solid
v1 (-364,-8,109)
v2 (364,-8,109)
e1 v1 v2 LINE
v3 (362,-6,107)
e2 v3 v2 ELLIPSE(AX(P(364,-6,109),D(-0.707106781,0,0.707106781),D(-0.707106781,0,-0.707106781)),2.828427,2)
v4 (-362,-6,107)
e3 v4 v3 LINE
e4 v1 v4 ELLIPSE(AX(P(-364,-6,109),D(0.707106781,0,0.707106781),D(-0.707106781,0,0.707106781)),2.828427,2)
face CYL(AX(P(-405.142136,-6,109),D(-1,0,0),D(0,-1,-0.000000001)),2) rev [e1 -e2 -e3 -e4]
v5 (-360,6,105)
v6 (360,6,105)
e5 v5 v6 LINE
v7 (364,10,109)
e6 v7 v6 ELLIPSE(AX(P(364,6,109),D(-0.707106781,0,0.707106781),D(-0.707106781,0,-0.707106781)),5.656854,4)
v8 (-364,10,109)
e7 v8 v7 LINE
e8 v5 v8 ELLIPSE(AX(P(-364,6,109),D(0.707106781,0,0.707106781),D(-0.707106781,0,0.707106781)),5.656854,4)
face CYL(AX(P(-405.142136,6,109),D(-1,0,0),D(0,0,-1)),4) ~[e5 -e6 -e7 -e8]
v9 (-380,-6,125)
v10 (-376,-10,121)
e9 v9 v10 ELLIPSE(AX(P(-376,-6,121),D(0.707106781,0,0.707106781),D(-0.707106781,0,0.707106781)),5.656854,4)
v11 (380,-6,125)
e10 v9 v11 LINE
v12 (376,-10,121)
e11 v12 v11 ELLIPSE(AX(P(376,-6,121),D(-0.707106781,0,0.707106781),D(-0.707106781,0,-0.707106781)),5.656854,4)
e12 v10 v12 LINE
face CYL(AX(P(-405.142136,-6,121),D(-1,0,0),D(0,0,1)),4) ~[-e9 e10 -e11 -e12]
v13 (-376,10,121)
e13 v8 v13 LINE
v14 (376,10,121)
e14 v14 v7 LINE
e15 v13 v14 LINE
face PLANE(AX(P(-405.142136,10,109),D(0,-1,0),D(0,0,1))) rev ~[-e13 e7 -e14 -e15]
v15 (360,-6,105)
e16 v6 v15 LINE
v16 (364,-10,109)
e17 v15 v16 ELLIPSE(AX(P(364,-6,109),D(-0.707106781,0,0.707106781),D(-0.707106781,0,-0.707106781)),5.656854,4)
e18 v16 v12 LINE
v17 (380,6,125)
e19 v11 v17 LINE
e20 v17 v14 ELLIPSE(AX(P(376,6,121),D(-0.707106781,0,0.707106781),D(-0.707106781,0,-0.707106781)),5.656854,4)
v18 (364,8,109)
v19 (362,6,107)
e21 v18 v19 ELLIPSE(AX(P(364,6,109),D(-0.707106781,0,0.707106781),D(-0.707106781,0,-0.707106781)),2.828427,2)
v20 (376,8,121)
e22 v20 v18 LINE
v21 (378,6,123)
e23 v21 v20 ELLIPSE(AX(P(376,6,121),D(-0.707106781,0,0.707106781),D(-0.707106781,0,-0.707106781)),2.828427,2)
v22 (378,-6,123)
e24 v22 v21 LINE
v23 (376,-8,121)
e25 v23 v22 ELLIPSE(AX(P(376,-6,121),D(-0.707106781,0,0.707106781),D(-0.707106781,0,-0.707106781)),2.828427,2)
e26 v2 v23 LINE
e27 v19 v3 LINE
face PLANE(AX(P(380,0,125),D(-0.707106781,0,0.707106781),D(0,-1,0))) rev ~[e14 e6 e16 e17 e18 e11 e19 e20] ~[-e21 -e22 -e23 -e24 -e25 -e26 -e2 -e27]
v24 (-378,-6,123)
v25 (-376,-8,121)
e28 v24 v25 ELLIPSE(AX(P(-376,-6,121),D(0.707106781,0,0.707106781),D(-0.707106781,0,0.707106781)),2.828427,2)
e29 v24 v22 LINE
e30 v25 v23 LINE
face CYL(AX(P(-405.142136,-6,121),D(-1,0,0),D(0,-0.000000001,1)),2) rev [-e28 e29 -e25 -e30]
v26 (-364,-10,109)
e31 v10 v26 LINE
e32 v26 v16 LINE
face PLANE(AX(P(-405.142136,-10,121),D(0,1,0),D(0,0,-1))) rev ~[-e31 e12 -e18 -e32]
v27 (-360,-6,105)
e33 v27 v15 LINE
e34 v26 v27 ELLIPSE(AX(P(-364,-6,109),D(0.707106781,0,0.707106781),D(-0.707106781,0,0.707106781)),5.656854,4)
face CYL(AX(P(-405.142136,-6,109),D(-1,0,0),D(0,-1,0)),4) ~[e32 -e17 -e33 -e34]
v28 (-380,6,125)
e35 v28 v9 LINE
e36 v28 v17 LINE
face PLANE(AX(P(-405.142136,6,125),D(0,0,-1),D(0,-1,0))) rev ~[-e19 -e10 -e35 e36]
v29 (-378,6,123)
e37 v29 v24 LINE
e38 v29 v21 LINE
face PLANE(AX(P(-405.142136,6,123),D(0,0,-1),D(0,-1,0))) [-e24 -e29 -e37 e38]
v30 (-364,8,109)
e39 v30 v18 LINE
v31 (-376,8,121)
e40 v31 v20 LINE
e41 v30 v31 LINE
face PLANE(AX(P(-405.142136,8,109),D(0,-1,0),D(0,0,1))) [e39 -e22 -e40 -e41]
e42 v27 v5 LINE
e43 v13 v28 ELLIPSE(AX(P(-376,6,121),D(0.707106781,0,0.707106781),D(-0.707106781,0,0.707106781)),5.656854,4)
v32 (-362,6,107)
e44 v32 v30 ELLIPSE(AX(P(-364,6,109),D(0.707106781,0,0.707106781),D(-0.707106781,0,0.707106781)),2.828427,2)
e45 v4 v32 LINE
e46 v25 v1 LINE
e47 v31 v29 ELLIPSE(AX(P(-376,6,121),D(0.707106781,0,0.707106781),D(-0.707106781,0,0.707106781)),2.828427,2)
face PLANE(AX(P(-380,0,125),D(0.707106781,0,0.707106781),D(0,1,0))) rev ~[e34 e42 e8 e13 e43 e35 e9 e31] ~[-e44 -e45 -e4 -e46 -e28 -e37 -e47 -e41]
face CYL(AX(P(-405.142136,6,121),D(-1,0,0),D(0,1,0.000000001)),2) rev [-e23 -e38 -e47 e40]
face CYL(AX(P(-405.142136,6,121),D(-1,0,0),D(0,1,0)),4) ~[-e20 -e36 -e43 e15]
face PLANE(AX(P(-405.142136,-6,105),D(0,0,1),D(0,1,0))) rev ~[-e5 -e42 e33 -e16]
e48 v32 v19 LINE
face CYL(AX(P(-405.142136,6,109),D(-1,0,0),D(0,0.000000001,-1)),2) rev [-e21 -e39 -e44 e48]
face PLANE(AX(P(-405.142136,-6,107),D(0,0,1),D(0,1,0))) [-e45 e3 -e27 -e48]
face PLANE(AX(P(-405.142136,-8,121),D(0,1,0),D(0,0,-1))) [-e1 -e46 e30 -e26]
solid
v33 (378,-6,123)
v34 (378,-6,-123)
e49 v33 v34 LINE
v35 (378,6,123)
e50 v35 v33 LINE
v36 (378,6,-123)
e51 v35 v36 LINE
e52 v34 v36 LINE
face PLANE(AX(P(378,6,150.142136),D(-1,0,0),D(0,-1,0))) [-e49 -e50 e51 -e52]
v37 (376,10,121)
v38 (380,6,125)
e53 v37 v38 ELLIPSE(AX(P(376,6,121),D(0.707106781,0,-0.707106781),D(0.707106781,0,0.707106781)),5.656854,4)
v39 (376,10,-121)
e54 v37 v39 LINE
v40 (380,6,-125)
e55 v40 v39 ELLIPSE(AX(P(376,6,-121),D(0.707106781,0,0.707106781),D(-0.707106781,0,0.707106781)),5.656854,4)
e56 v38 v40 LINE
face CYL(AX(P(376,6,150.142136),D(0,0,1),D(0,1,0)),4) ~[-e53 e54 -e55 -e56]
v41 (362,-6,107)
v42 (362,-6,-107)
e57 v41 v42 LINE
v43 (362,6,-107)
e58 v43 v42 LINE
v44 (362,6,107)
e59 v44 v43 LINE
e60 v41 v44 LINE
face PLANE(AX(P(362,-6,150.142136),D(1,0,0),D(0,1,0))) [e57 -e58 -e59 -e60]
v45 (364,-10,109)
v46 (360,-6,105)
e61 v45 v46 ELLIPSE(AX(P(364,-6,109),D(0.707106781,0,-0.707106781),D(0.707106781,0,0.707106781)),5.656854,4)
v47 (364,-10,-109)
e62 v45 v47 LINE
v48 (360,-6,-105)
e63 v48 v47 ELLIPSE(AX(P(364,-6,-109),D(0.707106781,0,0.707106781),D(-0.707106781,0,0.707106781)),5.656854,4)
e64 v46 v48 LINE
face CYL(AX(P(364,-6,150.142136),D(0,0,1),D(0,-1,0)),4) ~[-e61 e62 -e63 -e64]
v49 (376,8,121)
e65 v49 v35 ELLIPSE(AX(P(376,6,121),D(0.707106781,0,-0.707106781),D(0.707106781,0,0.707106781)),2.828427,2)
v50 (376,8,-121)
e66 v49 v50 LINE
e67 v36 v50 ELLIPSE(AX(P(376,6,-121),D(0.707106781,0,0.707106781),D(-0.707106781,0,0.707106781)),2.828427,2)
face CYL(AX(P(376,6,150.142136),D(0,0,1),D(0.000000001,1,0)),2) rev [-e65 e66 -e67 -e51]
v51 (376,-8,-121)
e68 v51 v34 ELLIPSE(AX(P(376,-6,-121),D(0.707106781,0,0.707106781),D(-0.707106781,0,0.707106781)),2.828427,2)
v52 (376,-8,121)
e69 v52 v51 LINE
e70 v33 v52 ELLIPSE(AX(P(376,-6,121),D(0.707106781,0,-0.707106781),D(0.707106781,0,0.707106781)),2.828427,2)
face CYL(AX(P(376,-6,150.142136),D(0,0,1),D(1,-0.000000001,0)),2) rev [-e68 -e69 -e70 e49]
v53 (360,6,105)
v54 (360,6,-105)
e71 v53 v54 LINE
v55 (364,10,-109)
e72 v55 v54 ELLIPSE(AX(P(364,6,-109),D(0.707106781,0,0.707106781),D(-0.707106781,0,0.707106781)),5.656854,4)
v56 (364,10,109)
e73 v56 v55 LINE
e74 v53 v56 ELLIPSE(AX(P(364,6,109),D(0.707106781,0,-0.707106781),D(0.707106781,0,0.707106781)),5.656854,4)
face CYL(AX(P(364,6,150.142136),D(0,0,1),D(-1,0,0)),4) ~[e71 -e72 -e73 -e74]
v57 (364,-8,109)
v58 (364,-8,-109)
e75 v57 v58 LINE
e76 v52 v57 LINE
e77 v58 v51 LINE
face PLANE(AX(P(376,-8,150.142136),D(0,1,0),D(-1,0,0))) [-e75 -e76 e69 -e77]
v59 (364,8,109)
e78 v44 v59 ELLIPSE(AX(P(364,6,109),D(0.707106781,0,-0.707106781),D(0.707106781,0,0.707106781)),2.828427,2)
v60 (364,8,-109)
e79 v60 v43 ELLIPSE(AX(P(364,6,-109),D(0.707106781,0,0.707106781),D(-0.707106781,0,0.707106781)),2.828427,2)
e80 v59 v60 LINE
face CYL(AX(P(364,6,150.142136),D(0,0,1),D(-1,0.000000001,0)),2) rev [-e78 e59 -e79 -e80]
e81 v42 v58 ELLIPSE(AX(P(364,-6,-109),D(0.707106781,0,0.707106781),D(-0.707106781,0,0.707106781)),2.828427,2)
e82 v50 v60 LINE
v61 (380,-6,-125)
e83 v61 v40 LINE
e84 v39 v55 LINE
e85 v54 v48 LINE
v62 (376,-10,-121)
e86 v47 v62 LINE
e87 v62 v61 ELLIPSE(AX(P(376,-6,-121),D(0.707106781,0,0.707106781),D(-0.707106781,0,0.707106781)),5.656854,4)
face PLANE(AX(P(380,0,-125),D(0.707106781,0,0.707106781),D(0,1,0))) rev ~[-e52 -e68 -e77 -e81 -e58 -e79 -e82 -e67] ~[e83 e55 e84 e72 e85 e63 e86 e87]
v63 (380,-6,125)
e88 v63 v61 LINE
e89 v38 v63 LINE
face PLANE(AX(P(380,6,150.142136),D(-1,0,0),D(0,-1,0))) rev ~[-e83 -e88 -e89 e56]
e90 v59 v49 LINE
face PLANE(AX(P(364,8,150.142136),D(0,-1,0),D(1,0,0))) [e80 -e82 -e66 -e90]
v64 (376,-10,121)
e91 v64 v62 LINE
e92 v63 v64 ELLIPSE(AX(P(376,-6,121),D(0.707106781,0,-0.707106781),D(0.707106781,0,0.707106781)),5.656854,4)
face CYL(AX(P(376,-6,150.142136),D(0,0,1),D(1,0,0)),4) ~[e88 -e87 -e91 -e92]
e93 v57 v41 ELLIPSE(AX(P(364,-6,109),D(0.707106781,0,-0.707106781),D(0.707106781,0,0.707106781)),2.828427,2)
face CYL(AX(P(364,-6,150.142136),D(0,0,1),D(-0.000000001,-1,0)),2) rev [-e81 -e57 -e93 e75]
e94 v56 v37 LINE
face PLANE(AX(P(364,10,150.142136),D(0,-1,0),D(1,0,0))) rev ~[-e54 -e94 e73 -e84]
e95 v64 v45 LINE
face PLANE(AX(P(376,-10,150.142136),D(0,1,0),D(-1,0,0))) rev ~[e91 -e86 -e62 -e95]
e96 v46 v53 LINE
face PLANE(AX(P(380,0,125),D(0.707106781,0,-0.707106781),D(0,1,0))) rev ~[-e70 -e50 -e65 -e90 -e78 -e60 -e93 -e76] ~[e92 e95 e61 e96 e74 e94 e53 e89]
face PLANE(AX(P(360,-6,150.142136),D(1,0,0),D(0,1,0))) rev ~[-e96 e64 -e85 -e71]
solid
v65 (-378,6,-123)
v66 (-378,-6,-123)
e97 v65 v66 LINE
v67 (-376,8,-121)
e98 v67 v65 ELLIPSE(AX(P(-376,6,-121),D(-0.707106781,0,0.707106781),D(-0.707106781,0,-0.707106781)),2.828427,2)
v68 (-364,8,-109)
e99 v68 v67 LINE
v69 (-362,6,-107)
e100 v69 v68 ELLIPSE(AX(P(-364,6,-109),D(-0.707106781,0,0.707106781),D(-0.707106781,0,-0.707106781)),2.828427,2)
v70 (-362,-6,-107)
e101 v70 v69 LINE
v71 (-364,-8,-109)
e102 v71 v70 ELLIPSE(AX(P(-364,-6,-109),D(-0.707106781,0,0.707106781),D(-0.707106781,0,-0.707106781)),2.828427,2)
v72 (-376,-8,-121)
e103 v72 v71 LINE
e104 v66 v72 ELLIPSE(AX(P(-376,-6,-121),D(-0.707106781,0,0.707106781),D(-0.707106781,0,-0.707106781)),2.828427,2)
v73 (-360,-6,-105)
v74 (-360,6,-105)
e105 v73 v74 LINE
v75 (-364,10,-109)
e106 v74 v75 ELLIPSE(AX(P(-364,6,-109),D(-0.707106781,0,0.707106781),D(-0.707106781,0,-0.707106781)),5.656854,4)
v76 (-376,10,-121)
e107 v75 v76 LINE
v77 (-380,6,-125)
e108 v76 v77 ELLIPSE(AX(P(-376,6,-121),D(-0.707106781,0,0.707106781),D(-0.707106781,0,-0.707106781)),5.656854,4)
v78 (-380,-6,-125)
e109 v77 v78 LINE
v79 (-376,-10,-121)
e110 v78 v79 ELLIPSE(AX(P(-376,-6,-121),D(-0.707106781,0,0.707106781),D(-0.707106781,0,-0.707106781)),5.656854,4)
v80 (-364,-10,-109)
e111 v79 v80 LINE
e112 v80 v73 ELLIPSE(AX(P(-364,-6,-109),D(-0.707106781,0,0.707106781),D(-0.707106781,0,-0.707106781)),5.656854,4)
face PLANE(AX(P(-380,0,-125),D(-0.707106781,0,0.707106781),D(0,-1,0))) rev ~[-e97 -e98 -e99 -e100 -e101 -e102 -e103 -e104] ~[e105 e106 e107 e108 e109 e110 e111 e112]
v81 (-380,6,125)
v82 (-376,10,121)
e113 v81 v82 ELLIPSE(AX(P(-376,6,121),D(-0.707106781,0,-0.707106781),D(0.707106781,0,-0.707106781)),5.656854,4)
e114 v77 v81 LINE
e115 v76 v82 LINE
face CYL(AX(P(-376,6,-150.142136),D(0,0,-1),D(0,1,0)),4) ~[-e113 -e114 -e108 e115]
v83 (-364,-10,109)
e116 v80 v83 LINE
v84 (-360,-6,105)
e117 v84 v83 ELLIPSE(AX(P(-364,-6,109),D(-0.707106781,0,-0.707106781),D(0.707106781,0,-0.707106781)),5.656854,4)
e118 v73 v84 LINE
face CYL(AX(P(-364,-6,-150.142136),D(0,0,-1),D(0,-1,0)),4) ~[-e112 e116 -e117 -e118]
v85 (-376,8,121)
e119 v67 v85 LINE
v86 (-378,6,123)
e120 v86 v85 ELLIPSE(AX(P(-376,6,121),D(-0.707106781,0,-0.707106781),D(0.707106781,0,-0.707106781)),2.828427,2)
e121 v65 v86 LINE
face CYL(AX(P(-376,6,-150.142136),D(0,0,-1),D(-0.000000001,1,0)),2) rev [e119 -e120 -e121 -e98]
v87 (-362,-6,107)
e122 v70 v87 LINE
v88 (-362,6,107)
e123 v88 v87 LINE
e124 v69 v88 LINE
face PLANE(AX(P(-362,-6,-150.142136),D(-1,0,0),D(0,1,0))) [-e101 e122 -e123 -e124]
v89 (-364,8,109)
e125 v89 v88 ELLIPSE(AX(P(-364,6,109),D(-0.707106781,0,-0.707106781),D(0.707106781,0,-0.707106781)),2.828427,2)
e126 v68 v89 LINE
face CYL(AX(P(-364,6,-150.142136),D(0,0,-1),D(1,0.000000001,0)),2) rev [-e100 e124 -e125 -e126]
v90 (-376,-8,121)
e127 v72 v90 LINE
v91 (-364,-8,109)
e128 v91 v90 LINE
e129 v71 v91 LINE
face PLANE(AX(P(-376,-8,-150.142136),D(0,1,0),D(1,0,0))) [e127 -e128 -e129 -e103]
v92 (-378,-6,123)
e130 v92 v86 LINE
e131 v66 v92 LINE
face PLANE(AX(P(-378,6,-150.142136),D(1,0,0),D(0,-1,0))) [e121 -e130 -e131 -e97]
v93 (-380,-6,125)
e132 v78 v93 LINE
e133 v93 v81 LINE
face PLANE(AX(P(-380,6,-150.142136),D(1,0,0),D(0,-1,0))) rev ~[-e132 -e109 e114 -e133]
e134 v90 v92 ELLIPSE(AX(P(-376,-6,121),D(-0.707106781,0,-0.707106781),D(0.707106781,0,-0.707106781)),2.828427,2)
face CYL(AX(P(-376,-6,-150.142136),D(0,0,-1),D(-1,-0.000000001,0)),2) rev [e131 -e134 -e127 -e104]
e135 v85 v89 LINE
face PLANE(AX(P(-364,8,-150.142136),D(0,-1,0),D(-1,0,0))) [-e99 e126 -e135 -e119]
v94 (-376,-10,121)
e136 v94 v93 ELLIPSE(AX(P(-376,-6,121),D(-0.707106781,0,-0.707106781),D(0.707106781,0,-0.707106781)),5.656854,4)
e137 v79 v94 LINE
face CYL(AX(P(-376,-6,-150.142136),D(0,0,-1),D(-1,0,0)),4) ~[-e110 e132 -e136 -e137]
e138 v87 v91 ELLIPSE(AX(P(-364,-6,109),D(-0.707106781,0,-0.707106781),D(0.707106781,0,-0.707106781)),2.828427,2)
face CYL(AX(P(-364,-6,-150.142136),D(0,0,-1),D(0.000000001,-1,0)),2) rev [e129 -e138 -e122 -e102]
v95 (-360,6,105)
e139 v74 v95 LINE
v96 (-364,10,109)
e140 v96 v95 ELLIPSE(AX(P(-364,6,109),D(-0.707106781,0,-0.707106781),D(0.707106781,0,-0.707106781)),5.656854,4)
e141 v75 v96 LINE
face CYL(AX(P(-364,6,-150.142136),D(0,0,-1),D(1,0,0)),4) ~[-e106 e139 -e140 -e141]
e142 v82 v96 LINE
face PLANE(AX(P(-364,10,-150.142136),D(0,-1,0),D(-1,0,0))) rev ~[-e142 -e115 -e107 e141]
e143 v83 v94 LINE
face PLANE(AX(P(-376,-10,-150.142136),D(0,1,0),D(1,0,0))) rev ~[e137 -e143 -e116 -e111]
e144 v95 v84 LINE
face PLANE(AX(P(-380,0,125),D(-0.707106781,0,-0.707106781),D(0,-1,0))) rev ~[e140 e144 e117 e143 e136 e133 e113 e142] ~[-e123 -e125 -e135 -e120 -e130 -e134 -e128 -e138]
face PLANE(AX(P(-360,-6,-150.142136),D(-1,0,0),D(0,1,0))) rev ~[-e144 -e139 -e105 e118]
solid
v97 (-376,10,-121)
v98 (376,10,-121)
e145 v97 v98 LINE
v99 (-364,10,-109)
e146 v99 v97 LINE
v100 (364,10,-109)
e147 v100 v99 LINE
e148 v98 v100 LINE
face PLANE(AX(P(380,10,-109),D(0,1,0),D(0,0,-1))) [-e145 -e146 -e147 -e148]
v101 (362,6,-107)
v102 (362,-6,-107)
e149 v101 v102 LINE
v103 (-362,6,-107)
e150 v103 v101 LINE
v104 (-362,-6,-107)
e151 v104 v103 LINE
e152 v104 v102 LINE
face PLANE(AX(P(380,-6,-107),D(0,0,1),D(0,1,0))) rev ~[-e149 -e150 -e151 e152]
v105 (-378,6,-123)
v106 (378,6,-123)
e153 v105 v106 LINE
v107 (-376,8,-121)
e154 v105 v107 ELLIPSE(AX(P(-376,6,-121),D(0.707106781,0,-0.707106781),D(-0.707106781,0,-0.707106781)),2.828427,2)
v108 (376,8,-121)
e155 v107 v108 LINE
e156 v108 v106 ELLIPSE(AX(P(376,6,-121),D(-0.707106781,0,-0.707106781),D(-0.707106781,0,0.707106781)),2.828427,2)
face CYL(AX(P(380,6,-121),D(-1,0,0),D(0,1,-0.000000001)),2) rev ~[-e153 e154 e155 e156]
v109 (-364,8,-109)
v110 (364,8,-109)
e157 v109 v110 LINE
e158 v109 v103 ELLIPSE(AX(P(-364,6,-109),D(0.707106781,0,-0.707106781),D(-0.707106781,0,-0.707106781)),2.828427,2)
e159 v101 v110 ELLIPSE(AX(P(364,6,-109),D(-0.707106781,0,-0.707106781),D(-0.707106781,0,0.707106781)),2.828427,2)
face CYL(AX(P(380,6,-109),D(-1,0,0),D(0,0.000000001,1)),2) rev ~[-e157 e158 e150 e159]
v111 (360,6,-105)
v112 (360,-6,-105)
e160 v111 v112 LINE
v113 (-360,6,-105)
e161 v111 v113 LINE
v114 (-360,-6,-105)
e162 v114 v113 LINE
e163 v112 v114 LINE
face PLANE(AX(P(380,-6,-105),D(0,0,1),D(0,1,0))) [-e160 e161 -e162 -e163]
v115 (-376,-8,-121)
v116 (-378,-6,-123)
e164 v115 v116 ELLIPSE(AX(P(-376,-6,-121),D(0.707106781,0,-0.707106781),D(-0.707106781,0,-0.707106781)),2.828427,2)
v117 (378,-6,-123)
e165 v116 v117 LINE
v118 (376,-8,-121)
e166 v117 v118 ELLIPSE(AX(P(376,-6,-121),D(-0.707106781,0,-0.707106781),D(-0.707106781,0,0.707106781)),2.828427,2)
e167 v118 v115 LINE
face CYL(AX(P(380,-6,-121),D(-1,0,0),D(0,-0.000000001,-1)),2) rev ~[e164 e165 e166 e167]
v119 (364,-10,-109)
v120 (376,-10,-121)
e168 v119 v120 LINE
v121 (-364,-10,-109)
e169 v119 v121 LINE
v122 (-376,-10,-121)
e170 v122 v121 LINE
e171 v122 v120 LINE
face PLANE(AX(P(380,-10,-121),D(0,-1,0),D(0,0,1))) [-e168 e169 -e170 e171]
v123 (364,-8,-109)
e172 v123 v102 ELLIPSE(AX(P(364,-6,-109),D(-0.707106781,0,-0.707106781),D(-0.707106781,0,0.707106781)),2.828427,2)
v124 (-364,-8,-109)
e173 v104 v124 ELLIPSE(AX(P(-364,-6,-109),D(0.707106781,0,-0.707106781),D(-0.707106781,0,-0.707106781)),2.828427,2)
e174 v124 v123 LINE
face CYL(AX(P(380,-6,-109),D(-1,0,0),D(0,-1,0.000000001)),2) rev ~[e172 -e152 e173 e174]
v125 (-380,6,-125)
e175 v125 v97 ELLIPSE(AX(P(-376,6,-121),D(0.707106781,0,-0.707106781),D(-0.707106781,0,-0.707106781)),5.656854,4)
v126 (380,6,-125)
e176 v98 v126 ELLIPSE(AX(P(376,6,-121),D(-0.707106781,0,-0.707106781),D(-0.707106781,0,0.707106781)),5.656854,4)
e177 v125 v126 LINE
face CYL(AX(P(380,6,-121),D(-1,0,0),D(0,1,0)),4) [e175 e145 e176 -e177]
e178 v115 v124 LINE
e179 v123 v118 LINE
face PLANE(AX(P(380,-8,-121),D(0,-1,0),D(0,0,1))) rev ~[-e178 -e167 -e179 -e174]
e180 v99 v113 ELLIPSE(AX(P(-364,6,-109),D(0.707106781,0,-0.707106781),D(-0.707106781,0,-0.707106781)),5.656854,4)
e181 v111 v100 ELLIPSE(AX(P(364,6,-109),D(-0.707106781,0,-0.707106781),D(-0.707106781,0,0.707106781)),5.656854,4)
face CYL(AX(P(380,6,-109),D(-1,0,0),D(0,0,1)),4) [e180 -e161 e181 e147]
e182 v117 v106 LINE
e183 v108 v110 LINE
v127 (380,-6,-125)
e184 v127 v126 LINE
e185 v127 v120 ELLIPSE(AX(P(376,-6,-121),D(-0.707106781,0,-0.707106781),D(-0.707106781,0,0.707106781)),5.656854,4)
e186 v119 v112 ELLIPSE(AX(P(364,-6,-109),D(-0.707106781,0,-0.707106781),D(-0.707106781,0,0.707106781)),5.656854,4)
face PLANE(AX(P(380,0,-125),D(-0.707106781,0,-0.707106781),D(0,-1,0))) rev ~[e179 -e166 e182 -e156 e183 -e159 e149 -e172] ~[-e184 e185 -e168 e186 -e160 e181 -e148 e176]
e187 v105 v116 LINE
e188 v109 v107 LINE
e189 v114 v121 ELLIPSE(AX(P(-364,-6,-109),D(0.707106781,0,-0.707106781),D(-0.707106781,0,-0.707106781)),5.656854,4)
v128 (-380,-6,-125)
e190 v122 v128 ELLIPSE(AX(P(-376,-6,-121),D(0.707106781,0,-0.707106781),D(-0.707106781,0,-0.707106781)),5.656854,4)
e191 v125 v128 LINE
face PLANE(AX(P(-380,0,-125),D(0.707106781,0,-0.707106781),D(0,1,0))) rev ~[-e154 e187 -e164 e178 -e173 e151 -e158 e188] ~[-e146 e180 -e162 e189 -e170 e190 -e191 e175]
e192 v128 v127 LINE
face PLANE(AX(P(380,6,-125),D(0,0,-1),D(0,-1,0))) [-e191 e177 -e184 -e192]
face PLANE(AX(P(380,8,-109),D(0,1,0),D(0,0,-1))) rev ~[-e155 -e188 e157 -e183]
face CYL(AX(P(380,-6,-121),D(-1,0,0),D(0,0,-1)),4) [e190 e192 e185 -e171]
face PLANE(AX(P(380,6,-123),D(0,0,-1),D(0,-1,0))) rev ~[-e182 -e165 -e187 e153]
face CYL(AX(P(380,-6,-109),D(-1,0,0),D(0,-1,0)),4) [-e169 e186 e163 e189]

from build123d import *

# Parameters (mm, degrees)
SQUARE_TUBE_CONFIGURED_20_X_20_X_2_1_DEPTH      = 785.142135624
SQUARE_TUBE_CONFIGURED_20_X_20_X_2_1_DEPTH_BACK = 25.142135624
SQUARE_TUBE_CONFIGURED_20_X_20_X_2_1_2_DEPTH    = 300.284271247
SQUARE_TUBE_CONFIGURED_20_X_20_X_2_1_3_DEPTH    = 810.284271247
SQUARE_TUBE_CONFIGURED_20_X_20_X_2_1_4_DEPTH    = 300.284271247


with BuildPart() as part:
    # Sketch11 → Square tube - configured 20 X 20 X 2(1) (new, two sides)
    with BuildSketch(Plane(origin=(380, 0, -115), x_dir=(0, 0, 1), z_dir=(-1, 0, 0))) as square_tube_configured_20_x_20_x_2_1_sk:
        with BuildLine():
            Line((-6, -10), (6, -10))
            ThreePointArc((6, -10), (8.828427125, -8.828427125), (10, -6))
            Line((10, -6), (10, 6))
            ThreePointArc((10, 6), (8.828427125, 8.828427125), (6, 10))
            Line((6, 10), (-6, 10))
            ThreePointArc((-6, 10), (-8.828427125, 8.828427125), (-10, 6))
            Line((-10, 6), (-10, -6))
            ThreePointArc((-10, -6), (-8.828427125, -8.828427125), (-6, -10))
        make_face()
        with BuildLine():
            Line((-6, -8), (6, -8))
            ThreePointArc((6, -8), (7.414213562, -7.414213562), (8, -6))
            Line((8, -6), (8, 6))
            ThreePointArc((8, 6), (7.414213562, 7.414213562), (6, 8))
            Line((6, 8), (-6, 8))
            ThreePointArc((-6, 8), (-7.414213562, 7.414213562), (-8, 6))
            Line((-8, 6), (-8, -6))
            ThreePointArc((-8, -6), (-7.414213562, -7.414213562), (-6, -8))
        make_face(mode=Mode.SUBTRACT)
    extrude(amount=SQUARE_TUBE_CONFIGURED_20_X_20_X_2_1_DEPTH)
    extrude(square_tube_configured_20_x_20_x_2_1_sk.sketch, amount=-SQUARE_TUBE_CONFIGURED_20_X_20_X_2_1_DEPTH_BACK)

    # Square tube - configured 20 X 20 X 2(1) m
    split(bisect_by=Plane(origin=(380, 0, -125), x_dir=(0, -1, 0), z_dir=(-0.707106781, 0, -0.707106781)), keep=Keep.TOP)

    # Square tube - configured 20 X 20 X 2 2
    split(bisect_by=Plane(origin=(-380, 0, -125), x_dir=(0, 1, 0), z_dir=(0.707106781, 0, -0.707106781)), keep=Keep.TOP)


with BuildPart() as body_2:
    # Sketch11 on segment 2 (carried to segment 2) → Square tube - configured 20 X 20 X 2_1 2 (new body)
    with BuildSketch(Plane(origin=(-370, 0, -150.142135624), x_dir=(1, 0, 0), z_dir=(0, 0, 1))):
        with BuildLine():
            Line((-6, -10), (6, -10))
            ThreePointArc((6, -10), (8.828427125, -8.828427125), (10, -6))
            Line((10, -6), (10, 6))
            ThreePointArc((10, 6), (8.828427125, 8.828427125), (6, 10))
            Line((6, 10), (-6, 10))
            ThreePointArc((-6, 10), (-8.828427125, 8.828427125), (-10, 6))
            Line((-10, 6), (-10, -6))
            ThreePointArc((-10, -6), (-8.828427125, -8.828427125), (-6, -10))
        make_face()
        with BuildLine():
            Line((-6, -8), (6, -8))
            ThreePointArc((6, -8), (7.414213562, -7.414213562), (8, -6))
            Line((8, -6), (8, 6))
            ThreePointArc((8, 6), (7.414213562, 7.414213562), (6, 8))
            Line((6, 8), (-6, 8))
            ThreePointArc((-6, 8), (-7.414213562, 7.414213562), (-8, 6))
            Line((-8, 6), (-8, -6))
            ThreePointArc((-8, -6), (-7.414213562, -7.414213562), (-6, -8))
        make_face(mode=Mode.SUBTRACT)
    extrude(amount=SQUARE_TUBE_CONFIGURED_20_X_20_X_2_1_2_DEPTH)

    # Square tube - configured 20 X 20 X 2 3
    split(bisect_by=Plane(origin=(-380, 0, 125), x_dir=(0, -1, 0), z_dir=(-0.707106781, 0, -0.707106781)), keep=Keep.TOP)

    # Square tube - configured 20 X 20 X 2 4
    split(bisect_by=Plane(origin=(-380, 0, -125), x_dir=(0, -1, 0), z_dir=(-0.707106781, 0, 0.707106781)), keep=Keep.TOP)


with BuildPart() as body_3:
    # Sketch11 on segment 3 (carried to segment 3) → Square tube - configured 20 X 20 X 2_1 3 (new body)
    with BuildSketch(Plane(origin=(-405.142135624, 0, 115), x_dir=(0, 0, -1), z_dir=(1, 0, 0))):
        with BuildLine():
            Line((-6, -10), (6, -10))
            ThreePointArc((6, -10), (8.828427125, -8.828427125), (10, -6))
            Line((10, -6), (10, 6))
            ThreePointArc((10, 6), (8.828427125, 8.828427125), (6, 10))
            Line((6, 10), (-6, 10))
            ThreePointArc((-6, 10), (-8.828427125, 8.828427125), (-10, 6))
            Line((-10, 6), (-10, -6))
            ThreePointArc((-10, -6), (-8.828427125, -8.828427125), (-6, -10))
        make_face()
        with BuildLine():
            Line((-6, -8), (6, -8))
            ThreePointArc((6, -8), (7.414213562, -7.414213562), (8, -6))
            Line((8, -6), (8, 6))
            ThreePointArc((8, 6), (7.414213562, 7.414213562), (6, 8))
            Line((6, 8), (-6, 8))
            ThreePointArc((-6, 8), (-7.414213562, 7.414213562), (-8, 6))
            Line((-8, 6), (-8, -6))
            ThreePointArc((-8, -6), (-7.414213562, -7.414213562), (-6, -8))
        make_face(mode=Mode.SUBTRACT)
    extrude(amount=SQUARE_TUBE_CONFIGURED_20_X_20_X_2_1_3_DEPTH)

    # Square tube - configured 20 X 20 X 2 5
    split(bisect_by=Plane(origin=(380, 0, 125), x_dir=(0, -1, 0), z_dir=(-0.707106781, 0, 0.707106781)), keep=Keep.TOP)

    # Square tube - configured 20 X 20 X 2 6
    split(bisect_by=Plane(origin=(-380, 0, 125), x_dir=(0, 1, 0), z_dir=(0.707106781, 0, 0.707106781)), keep=Keep.TOP)


with BuildPart() as body_4:
    # Sketch11 on segment 4 (carried to segment 4) → Square tube - configured 20 X 20 X 2_1 4 (new body)
    with BuildSketch(Plane(origin=(370, 0, 150.142135624), x_dir=(-1, 0, 0), z_dir=(0, 0, -1))):
        with BuildLine():
            Line((-6, -10), (6, -10))
            ThreePointArc((6, -10), (8.828427125, -8.828427125), (10, -6))
            Line((10, -6), (10, 6))
            ThreePointArc((10, 6), (8.828427125, 8.828427125), (6, 10))
            Line((6, 10), (-6, 10))
            ThreePointArc((-6, 10), (-8.828427125, 8.828427125), (-10, 6))
            Line((-10, 6), (-10, -6))
            ThreePointArc((-10, -6), (-8.828427125, -8.828427125), (-6, -10))
        make_face()
        with BuildLine():
            Line((-6, -8), (6, -8))
            ThreePointArc((6, -8), (7.414213562, -7.414213562), (8, -6))
            Line((8, -6), (8, 6))
            ThreePointArc((8, 6), (7.414213562, 7.414213562), (6, 8))
            Line((6, 8), (-6, 8))
            ThreePointArc((-6, 8), (-7.414213562, 7.414213562), (-8, 6))
            Line((-8, 6), (-8, -6))
            ThreePointArc((-8, -6), (-7.414213562, -7.414213562), (-6, -8))
        make_face(mode=Mode.SUBTRACT)
    extrude(amount=SQUARE_TUBE_CONFIGURED_20_X_20_X_2_1_4_DEPTH)

    # Square tube - configured 20 X 20 X 2 7
    split(bisect_by=Plane(origin=(380, 0, 125), x_dir=(0, 1, 0), z_dir=(0.707106781, 0, -0.707106781)), keep=Keep.TOP)

    # Square tube - configured 20 X 20 X 2 8
    split(bisect_by=Plane(origin=(380, 0, -125), x_dir=(0, 1, 0), z_dir=(0.707106781, 0, 0.707106781)), keep=Keep.TOP)


solid = Compound([part.part, body_2.part, body_3.part, body_4.part])
